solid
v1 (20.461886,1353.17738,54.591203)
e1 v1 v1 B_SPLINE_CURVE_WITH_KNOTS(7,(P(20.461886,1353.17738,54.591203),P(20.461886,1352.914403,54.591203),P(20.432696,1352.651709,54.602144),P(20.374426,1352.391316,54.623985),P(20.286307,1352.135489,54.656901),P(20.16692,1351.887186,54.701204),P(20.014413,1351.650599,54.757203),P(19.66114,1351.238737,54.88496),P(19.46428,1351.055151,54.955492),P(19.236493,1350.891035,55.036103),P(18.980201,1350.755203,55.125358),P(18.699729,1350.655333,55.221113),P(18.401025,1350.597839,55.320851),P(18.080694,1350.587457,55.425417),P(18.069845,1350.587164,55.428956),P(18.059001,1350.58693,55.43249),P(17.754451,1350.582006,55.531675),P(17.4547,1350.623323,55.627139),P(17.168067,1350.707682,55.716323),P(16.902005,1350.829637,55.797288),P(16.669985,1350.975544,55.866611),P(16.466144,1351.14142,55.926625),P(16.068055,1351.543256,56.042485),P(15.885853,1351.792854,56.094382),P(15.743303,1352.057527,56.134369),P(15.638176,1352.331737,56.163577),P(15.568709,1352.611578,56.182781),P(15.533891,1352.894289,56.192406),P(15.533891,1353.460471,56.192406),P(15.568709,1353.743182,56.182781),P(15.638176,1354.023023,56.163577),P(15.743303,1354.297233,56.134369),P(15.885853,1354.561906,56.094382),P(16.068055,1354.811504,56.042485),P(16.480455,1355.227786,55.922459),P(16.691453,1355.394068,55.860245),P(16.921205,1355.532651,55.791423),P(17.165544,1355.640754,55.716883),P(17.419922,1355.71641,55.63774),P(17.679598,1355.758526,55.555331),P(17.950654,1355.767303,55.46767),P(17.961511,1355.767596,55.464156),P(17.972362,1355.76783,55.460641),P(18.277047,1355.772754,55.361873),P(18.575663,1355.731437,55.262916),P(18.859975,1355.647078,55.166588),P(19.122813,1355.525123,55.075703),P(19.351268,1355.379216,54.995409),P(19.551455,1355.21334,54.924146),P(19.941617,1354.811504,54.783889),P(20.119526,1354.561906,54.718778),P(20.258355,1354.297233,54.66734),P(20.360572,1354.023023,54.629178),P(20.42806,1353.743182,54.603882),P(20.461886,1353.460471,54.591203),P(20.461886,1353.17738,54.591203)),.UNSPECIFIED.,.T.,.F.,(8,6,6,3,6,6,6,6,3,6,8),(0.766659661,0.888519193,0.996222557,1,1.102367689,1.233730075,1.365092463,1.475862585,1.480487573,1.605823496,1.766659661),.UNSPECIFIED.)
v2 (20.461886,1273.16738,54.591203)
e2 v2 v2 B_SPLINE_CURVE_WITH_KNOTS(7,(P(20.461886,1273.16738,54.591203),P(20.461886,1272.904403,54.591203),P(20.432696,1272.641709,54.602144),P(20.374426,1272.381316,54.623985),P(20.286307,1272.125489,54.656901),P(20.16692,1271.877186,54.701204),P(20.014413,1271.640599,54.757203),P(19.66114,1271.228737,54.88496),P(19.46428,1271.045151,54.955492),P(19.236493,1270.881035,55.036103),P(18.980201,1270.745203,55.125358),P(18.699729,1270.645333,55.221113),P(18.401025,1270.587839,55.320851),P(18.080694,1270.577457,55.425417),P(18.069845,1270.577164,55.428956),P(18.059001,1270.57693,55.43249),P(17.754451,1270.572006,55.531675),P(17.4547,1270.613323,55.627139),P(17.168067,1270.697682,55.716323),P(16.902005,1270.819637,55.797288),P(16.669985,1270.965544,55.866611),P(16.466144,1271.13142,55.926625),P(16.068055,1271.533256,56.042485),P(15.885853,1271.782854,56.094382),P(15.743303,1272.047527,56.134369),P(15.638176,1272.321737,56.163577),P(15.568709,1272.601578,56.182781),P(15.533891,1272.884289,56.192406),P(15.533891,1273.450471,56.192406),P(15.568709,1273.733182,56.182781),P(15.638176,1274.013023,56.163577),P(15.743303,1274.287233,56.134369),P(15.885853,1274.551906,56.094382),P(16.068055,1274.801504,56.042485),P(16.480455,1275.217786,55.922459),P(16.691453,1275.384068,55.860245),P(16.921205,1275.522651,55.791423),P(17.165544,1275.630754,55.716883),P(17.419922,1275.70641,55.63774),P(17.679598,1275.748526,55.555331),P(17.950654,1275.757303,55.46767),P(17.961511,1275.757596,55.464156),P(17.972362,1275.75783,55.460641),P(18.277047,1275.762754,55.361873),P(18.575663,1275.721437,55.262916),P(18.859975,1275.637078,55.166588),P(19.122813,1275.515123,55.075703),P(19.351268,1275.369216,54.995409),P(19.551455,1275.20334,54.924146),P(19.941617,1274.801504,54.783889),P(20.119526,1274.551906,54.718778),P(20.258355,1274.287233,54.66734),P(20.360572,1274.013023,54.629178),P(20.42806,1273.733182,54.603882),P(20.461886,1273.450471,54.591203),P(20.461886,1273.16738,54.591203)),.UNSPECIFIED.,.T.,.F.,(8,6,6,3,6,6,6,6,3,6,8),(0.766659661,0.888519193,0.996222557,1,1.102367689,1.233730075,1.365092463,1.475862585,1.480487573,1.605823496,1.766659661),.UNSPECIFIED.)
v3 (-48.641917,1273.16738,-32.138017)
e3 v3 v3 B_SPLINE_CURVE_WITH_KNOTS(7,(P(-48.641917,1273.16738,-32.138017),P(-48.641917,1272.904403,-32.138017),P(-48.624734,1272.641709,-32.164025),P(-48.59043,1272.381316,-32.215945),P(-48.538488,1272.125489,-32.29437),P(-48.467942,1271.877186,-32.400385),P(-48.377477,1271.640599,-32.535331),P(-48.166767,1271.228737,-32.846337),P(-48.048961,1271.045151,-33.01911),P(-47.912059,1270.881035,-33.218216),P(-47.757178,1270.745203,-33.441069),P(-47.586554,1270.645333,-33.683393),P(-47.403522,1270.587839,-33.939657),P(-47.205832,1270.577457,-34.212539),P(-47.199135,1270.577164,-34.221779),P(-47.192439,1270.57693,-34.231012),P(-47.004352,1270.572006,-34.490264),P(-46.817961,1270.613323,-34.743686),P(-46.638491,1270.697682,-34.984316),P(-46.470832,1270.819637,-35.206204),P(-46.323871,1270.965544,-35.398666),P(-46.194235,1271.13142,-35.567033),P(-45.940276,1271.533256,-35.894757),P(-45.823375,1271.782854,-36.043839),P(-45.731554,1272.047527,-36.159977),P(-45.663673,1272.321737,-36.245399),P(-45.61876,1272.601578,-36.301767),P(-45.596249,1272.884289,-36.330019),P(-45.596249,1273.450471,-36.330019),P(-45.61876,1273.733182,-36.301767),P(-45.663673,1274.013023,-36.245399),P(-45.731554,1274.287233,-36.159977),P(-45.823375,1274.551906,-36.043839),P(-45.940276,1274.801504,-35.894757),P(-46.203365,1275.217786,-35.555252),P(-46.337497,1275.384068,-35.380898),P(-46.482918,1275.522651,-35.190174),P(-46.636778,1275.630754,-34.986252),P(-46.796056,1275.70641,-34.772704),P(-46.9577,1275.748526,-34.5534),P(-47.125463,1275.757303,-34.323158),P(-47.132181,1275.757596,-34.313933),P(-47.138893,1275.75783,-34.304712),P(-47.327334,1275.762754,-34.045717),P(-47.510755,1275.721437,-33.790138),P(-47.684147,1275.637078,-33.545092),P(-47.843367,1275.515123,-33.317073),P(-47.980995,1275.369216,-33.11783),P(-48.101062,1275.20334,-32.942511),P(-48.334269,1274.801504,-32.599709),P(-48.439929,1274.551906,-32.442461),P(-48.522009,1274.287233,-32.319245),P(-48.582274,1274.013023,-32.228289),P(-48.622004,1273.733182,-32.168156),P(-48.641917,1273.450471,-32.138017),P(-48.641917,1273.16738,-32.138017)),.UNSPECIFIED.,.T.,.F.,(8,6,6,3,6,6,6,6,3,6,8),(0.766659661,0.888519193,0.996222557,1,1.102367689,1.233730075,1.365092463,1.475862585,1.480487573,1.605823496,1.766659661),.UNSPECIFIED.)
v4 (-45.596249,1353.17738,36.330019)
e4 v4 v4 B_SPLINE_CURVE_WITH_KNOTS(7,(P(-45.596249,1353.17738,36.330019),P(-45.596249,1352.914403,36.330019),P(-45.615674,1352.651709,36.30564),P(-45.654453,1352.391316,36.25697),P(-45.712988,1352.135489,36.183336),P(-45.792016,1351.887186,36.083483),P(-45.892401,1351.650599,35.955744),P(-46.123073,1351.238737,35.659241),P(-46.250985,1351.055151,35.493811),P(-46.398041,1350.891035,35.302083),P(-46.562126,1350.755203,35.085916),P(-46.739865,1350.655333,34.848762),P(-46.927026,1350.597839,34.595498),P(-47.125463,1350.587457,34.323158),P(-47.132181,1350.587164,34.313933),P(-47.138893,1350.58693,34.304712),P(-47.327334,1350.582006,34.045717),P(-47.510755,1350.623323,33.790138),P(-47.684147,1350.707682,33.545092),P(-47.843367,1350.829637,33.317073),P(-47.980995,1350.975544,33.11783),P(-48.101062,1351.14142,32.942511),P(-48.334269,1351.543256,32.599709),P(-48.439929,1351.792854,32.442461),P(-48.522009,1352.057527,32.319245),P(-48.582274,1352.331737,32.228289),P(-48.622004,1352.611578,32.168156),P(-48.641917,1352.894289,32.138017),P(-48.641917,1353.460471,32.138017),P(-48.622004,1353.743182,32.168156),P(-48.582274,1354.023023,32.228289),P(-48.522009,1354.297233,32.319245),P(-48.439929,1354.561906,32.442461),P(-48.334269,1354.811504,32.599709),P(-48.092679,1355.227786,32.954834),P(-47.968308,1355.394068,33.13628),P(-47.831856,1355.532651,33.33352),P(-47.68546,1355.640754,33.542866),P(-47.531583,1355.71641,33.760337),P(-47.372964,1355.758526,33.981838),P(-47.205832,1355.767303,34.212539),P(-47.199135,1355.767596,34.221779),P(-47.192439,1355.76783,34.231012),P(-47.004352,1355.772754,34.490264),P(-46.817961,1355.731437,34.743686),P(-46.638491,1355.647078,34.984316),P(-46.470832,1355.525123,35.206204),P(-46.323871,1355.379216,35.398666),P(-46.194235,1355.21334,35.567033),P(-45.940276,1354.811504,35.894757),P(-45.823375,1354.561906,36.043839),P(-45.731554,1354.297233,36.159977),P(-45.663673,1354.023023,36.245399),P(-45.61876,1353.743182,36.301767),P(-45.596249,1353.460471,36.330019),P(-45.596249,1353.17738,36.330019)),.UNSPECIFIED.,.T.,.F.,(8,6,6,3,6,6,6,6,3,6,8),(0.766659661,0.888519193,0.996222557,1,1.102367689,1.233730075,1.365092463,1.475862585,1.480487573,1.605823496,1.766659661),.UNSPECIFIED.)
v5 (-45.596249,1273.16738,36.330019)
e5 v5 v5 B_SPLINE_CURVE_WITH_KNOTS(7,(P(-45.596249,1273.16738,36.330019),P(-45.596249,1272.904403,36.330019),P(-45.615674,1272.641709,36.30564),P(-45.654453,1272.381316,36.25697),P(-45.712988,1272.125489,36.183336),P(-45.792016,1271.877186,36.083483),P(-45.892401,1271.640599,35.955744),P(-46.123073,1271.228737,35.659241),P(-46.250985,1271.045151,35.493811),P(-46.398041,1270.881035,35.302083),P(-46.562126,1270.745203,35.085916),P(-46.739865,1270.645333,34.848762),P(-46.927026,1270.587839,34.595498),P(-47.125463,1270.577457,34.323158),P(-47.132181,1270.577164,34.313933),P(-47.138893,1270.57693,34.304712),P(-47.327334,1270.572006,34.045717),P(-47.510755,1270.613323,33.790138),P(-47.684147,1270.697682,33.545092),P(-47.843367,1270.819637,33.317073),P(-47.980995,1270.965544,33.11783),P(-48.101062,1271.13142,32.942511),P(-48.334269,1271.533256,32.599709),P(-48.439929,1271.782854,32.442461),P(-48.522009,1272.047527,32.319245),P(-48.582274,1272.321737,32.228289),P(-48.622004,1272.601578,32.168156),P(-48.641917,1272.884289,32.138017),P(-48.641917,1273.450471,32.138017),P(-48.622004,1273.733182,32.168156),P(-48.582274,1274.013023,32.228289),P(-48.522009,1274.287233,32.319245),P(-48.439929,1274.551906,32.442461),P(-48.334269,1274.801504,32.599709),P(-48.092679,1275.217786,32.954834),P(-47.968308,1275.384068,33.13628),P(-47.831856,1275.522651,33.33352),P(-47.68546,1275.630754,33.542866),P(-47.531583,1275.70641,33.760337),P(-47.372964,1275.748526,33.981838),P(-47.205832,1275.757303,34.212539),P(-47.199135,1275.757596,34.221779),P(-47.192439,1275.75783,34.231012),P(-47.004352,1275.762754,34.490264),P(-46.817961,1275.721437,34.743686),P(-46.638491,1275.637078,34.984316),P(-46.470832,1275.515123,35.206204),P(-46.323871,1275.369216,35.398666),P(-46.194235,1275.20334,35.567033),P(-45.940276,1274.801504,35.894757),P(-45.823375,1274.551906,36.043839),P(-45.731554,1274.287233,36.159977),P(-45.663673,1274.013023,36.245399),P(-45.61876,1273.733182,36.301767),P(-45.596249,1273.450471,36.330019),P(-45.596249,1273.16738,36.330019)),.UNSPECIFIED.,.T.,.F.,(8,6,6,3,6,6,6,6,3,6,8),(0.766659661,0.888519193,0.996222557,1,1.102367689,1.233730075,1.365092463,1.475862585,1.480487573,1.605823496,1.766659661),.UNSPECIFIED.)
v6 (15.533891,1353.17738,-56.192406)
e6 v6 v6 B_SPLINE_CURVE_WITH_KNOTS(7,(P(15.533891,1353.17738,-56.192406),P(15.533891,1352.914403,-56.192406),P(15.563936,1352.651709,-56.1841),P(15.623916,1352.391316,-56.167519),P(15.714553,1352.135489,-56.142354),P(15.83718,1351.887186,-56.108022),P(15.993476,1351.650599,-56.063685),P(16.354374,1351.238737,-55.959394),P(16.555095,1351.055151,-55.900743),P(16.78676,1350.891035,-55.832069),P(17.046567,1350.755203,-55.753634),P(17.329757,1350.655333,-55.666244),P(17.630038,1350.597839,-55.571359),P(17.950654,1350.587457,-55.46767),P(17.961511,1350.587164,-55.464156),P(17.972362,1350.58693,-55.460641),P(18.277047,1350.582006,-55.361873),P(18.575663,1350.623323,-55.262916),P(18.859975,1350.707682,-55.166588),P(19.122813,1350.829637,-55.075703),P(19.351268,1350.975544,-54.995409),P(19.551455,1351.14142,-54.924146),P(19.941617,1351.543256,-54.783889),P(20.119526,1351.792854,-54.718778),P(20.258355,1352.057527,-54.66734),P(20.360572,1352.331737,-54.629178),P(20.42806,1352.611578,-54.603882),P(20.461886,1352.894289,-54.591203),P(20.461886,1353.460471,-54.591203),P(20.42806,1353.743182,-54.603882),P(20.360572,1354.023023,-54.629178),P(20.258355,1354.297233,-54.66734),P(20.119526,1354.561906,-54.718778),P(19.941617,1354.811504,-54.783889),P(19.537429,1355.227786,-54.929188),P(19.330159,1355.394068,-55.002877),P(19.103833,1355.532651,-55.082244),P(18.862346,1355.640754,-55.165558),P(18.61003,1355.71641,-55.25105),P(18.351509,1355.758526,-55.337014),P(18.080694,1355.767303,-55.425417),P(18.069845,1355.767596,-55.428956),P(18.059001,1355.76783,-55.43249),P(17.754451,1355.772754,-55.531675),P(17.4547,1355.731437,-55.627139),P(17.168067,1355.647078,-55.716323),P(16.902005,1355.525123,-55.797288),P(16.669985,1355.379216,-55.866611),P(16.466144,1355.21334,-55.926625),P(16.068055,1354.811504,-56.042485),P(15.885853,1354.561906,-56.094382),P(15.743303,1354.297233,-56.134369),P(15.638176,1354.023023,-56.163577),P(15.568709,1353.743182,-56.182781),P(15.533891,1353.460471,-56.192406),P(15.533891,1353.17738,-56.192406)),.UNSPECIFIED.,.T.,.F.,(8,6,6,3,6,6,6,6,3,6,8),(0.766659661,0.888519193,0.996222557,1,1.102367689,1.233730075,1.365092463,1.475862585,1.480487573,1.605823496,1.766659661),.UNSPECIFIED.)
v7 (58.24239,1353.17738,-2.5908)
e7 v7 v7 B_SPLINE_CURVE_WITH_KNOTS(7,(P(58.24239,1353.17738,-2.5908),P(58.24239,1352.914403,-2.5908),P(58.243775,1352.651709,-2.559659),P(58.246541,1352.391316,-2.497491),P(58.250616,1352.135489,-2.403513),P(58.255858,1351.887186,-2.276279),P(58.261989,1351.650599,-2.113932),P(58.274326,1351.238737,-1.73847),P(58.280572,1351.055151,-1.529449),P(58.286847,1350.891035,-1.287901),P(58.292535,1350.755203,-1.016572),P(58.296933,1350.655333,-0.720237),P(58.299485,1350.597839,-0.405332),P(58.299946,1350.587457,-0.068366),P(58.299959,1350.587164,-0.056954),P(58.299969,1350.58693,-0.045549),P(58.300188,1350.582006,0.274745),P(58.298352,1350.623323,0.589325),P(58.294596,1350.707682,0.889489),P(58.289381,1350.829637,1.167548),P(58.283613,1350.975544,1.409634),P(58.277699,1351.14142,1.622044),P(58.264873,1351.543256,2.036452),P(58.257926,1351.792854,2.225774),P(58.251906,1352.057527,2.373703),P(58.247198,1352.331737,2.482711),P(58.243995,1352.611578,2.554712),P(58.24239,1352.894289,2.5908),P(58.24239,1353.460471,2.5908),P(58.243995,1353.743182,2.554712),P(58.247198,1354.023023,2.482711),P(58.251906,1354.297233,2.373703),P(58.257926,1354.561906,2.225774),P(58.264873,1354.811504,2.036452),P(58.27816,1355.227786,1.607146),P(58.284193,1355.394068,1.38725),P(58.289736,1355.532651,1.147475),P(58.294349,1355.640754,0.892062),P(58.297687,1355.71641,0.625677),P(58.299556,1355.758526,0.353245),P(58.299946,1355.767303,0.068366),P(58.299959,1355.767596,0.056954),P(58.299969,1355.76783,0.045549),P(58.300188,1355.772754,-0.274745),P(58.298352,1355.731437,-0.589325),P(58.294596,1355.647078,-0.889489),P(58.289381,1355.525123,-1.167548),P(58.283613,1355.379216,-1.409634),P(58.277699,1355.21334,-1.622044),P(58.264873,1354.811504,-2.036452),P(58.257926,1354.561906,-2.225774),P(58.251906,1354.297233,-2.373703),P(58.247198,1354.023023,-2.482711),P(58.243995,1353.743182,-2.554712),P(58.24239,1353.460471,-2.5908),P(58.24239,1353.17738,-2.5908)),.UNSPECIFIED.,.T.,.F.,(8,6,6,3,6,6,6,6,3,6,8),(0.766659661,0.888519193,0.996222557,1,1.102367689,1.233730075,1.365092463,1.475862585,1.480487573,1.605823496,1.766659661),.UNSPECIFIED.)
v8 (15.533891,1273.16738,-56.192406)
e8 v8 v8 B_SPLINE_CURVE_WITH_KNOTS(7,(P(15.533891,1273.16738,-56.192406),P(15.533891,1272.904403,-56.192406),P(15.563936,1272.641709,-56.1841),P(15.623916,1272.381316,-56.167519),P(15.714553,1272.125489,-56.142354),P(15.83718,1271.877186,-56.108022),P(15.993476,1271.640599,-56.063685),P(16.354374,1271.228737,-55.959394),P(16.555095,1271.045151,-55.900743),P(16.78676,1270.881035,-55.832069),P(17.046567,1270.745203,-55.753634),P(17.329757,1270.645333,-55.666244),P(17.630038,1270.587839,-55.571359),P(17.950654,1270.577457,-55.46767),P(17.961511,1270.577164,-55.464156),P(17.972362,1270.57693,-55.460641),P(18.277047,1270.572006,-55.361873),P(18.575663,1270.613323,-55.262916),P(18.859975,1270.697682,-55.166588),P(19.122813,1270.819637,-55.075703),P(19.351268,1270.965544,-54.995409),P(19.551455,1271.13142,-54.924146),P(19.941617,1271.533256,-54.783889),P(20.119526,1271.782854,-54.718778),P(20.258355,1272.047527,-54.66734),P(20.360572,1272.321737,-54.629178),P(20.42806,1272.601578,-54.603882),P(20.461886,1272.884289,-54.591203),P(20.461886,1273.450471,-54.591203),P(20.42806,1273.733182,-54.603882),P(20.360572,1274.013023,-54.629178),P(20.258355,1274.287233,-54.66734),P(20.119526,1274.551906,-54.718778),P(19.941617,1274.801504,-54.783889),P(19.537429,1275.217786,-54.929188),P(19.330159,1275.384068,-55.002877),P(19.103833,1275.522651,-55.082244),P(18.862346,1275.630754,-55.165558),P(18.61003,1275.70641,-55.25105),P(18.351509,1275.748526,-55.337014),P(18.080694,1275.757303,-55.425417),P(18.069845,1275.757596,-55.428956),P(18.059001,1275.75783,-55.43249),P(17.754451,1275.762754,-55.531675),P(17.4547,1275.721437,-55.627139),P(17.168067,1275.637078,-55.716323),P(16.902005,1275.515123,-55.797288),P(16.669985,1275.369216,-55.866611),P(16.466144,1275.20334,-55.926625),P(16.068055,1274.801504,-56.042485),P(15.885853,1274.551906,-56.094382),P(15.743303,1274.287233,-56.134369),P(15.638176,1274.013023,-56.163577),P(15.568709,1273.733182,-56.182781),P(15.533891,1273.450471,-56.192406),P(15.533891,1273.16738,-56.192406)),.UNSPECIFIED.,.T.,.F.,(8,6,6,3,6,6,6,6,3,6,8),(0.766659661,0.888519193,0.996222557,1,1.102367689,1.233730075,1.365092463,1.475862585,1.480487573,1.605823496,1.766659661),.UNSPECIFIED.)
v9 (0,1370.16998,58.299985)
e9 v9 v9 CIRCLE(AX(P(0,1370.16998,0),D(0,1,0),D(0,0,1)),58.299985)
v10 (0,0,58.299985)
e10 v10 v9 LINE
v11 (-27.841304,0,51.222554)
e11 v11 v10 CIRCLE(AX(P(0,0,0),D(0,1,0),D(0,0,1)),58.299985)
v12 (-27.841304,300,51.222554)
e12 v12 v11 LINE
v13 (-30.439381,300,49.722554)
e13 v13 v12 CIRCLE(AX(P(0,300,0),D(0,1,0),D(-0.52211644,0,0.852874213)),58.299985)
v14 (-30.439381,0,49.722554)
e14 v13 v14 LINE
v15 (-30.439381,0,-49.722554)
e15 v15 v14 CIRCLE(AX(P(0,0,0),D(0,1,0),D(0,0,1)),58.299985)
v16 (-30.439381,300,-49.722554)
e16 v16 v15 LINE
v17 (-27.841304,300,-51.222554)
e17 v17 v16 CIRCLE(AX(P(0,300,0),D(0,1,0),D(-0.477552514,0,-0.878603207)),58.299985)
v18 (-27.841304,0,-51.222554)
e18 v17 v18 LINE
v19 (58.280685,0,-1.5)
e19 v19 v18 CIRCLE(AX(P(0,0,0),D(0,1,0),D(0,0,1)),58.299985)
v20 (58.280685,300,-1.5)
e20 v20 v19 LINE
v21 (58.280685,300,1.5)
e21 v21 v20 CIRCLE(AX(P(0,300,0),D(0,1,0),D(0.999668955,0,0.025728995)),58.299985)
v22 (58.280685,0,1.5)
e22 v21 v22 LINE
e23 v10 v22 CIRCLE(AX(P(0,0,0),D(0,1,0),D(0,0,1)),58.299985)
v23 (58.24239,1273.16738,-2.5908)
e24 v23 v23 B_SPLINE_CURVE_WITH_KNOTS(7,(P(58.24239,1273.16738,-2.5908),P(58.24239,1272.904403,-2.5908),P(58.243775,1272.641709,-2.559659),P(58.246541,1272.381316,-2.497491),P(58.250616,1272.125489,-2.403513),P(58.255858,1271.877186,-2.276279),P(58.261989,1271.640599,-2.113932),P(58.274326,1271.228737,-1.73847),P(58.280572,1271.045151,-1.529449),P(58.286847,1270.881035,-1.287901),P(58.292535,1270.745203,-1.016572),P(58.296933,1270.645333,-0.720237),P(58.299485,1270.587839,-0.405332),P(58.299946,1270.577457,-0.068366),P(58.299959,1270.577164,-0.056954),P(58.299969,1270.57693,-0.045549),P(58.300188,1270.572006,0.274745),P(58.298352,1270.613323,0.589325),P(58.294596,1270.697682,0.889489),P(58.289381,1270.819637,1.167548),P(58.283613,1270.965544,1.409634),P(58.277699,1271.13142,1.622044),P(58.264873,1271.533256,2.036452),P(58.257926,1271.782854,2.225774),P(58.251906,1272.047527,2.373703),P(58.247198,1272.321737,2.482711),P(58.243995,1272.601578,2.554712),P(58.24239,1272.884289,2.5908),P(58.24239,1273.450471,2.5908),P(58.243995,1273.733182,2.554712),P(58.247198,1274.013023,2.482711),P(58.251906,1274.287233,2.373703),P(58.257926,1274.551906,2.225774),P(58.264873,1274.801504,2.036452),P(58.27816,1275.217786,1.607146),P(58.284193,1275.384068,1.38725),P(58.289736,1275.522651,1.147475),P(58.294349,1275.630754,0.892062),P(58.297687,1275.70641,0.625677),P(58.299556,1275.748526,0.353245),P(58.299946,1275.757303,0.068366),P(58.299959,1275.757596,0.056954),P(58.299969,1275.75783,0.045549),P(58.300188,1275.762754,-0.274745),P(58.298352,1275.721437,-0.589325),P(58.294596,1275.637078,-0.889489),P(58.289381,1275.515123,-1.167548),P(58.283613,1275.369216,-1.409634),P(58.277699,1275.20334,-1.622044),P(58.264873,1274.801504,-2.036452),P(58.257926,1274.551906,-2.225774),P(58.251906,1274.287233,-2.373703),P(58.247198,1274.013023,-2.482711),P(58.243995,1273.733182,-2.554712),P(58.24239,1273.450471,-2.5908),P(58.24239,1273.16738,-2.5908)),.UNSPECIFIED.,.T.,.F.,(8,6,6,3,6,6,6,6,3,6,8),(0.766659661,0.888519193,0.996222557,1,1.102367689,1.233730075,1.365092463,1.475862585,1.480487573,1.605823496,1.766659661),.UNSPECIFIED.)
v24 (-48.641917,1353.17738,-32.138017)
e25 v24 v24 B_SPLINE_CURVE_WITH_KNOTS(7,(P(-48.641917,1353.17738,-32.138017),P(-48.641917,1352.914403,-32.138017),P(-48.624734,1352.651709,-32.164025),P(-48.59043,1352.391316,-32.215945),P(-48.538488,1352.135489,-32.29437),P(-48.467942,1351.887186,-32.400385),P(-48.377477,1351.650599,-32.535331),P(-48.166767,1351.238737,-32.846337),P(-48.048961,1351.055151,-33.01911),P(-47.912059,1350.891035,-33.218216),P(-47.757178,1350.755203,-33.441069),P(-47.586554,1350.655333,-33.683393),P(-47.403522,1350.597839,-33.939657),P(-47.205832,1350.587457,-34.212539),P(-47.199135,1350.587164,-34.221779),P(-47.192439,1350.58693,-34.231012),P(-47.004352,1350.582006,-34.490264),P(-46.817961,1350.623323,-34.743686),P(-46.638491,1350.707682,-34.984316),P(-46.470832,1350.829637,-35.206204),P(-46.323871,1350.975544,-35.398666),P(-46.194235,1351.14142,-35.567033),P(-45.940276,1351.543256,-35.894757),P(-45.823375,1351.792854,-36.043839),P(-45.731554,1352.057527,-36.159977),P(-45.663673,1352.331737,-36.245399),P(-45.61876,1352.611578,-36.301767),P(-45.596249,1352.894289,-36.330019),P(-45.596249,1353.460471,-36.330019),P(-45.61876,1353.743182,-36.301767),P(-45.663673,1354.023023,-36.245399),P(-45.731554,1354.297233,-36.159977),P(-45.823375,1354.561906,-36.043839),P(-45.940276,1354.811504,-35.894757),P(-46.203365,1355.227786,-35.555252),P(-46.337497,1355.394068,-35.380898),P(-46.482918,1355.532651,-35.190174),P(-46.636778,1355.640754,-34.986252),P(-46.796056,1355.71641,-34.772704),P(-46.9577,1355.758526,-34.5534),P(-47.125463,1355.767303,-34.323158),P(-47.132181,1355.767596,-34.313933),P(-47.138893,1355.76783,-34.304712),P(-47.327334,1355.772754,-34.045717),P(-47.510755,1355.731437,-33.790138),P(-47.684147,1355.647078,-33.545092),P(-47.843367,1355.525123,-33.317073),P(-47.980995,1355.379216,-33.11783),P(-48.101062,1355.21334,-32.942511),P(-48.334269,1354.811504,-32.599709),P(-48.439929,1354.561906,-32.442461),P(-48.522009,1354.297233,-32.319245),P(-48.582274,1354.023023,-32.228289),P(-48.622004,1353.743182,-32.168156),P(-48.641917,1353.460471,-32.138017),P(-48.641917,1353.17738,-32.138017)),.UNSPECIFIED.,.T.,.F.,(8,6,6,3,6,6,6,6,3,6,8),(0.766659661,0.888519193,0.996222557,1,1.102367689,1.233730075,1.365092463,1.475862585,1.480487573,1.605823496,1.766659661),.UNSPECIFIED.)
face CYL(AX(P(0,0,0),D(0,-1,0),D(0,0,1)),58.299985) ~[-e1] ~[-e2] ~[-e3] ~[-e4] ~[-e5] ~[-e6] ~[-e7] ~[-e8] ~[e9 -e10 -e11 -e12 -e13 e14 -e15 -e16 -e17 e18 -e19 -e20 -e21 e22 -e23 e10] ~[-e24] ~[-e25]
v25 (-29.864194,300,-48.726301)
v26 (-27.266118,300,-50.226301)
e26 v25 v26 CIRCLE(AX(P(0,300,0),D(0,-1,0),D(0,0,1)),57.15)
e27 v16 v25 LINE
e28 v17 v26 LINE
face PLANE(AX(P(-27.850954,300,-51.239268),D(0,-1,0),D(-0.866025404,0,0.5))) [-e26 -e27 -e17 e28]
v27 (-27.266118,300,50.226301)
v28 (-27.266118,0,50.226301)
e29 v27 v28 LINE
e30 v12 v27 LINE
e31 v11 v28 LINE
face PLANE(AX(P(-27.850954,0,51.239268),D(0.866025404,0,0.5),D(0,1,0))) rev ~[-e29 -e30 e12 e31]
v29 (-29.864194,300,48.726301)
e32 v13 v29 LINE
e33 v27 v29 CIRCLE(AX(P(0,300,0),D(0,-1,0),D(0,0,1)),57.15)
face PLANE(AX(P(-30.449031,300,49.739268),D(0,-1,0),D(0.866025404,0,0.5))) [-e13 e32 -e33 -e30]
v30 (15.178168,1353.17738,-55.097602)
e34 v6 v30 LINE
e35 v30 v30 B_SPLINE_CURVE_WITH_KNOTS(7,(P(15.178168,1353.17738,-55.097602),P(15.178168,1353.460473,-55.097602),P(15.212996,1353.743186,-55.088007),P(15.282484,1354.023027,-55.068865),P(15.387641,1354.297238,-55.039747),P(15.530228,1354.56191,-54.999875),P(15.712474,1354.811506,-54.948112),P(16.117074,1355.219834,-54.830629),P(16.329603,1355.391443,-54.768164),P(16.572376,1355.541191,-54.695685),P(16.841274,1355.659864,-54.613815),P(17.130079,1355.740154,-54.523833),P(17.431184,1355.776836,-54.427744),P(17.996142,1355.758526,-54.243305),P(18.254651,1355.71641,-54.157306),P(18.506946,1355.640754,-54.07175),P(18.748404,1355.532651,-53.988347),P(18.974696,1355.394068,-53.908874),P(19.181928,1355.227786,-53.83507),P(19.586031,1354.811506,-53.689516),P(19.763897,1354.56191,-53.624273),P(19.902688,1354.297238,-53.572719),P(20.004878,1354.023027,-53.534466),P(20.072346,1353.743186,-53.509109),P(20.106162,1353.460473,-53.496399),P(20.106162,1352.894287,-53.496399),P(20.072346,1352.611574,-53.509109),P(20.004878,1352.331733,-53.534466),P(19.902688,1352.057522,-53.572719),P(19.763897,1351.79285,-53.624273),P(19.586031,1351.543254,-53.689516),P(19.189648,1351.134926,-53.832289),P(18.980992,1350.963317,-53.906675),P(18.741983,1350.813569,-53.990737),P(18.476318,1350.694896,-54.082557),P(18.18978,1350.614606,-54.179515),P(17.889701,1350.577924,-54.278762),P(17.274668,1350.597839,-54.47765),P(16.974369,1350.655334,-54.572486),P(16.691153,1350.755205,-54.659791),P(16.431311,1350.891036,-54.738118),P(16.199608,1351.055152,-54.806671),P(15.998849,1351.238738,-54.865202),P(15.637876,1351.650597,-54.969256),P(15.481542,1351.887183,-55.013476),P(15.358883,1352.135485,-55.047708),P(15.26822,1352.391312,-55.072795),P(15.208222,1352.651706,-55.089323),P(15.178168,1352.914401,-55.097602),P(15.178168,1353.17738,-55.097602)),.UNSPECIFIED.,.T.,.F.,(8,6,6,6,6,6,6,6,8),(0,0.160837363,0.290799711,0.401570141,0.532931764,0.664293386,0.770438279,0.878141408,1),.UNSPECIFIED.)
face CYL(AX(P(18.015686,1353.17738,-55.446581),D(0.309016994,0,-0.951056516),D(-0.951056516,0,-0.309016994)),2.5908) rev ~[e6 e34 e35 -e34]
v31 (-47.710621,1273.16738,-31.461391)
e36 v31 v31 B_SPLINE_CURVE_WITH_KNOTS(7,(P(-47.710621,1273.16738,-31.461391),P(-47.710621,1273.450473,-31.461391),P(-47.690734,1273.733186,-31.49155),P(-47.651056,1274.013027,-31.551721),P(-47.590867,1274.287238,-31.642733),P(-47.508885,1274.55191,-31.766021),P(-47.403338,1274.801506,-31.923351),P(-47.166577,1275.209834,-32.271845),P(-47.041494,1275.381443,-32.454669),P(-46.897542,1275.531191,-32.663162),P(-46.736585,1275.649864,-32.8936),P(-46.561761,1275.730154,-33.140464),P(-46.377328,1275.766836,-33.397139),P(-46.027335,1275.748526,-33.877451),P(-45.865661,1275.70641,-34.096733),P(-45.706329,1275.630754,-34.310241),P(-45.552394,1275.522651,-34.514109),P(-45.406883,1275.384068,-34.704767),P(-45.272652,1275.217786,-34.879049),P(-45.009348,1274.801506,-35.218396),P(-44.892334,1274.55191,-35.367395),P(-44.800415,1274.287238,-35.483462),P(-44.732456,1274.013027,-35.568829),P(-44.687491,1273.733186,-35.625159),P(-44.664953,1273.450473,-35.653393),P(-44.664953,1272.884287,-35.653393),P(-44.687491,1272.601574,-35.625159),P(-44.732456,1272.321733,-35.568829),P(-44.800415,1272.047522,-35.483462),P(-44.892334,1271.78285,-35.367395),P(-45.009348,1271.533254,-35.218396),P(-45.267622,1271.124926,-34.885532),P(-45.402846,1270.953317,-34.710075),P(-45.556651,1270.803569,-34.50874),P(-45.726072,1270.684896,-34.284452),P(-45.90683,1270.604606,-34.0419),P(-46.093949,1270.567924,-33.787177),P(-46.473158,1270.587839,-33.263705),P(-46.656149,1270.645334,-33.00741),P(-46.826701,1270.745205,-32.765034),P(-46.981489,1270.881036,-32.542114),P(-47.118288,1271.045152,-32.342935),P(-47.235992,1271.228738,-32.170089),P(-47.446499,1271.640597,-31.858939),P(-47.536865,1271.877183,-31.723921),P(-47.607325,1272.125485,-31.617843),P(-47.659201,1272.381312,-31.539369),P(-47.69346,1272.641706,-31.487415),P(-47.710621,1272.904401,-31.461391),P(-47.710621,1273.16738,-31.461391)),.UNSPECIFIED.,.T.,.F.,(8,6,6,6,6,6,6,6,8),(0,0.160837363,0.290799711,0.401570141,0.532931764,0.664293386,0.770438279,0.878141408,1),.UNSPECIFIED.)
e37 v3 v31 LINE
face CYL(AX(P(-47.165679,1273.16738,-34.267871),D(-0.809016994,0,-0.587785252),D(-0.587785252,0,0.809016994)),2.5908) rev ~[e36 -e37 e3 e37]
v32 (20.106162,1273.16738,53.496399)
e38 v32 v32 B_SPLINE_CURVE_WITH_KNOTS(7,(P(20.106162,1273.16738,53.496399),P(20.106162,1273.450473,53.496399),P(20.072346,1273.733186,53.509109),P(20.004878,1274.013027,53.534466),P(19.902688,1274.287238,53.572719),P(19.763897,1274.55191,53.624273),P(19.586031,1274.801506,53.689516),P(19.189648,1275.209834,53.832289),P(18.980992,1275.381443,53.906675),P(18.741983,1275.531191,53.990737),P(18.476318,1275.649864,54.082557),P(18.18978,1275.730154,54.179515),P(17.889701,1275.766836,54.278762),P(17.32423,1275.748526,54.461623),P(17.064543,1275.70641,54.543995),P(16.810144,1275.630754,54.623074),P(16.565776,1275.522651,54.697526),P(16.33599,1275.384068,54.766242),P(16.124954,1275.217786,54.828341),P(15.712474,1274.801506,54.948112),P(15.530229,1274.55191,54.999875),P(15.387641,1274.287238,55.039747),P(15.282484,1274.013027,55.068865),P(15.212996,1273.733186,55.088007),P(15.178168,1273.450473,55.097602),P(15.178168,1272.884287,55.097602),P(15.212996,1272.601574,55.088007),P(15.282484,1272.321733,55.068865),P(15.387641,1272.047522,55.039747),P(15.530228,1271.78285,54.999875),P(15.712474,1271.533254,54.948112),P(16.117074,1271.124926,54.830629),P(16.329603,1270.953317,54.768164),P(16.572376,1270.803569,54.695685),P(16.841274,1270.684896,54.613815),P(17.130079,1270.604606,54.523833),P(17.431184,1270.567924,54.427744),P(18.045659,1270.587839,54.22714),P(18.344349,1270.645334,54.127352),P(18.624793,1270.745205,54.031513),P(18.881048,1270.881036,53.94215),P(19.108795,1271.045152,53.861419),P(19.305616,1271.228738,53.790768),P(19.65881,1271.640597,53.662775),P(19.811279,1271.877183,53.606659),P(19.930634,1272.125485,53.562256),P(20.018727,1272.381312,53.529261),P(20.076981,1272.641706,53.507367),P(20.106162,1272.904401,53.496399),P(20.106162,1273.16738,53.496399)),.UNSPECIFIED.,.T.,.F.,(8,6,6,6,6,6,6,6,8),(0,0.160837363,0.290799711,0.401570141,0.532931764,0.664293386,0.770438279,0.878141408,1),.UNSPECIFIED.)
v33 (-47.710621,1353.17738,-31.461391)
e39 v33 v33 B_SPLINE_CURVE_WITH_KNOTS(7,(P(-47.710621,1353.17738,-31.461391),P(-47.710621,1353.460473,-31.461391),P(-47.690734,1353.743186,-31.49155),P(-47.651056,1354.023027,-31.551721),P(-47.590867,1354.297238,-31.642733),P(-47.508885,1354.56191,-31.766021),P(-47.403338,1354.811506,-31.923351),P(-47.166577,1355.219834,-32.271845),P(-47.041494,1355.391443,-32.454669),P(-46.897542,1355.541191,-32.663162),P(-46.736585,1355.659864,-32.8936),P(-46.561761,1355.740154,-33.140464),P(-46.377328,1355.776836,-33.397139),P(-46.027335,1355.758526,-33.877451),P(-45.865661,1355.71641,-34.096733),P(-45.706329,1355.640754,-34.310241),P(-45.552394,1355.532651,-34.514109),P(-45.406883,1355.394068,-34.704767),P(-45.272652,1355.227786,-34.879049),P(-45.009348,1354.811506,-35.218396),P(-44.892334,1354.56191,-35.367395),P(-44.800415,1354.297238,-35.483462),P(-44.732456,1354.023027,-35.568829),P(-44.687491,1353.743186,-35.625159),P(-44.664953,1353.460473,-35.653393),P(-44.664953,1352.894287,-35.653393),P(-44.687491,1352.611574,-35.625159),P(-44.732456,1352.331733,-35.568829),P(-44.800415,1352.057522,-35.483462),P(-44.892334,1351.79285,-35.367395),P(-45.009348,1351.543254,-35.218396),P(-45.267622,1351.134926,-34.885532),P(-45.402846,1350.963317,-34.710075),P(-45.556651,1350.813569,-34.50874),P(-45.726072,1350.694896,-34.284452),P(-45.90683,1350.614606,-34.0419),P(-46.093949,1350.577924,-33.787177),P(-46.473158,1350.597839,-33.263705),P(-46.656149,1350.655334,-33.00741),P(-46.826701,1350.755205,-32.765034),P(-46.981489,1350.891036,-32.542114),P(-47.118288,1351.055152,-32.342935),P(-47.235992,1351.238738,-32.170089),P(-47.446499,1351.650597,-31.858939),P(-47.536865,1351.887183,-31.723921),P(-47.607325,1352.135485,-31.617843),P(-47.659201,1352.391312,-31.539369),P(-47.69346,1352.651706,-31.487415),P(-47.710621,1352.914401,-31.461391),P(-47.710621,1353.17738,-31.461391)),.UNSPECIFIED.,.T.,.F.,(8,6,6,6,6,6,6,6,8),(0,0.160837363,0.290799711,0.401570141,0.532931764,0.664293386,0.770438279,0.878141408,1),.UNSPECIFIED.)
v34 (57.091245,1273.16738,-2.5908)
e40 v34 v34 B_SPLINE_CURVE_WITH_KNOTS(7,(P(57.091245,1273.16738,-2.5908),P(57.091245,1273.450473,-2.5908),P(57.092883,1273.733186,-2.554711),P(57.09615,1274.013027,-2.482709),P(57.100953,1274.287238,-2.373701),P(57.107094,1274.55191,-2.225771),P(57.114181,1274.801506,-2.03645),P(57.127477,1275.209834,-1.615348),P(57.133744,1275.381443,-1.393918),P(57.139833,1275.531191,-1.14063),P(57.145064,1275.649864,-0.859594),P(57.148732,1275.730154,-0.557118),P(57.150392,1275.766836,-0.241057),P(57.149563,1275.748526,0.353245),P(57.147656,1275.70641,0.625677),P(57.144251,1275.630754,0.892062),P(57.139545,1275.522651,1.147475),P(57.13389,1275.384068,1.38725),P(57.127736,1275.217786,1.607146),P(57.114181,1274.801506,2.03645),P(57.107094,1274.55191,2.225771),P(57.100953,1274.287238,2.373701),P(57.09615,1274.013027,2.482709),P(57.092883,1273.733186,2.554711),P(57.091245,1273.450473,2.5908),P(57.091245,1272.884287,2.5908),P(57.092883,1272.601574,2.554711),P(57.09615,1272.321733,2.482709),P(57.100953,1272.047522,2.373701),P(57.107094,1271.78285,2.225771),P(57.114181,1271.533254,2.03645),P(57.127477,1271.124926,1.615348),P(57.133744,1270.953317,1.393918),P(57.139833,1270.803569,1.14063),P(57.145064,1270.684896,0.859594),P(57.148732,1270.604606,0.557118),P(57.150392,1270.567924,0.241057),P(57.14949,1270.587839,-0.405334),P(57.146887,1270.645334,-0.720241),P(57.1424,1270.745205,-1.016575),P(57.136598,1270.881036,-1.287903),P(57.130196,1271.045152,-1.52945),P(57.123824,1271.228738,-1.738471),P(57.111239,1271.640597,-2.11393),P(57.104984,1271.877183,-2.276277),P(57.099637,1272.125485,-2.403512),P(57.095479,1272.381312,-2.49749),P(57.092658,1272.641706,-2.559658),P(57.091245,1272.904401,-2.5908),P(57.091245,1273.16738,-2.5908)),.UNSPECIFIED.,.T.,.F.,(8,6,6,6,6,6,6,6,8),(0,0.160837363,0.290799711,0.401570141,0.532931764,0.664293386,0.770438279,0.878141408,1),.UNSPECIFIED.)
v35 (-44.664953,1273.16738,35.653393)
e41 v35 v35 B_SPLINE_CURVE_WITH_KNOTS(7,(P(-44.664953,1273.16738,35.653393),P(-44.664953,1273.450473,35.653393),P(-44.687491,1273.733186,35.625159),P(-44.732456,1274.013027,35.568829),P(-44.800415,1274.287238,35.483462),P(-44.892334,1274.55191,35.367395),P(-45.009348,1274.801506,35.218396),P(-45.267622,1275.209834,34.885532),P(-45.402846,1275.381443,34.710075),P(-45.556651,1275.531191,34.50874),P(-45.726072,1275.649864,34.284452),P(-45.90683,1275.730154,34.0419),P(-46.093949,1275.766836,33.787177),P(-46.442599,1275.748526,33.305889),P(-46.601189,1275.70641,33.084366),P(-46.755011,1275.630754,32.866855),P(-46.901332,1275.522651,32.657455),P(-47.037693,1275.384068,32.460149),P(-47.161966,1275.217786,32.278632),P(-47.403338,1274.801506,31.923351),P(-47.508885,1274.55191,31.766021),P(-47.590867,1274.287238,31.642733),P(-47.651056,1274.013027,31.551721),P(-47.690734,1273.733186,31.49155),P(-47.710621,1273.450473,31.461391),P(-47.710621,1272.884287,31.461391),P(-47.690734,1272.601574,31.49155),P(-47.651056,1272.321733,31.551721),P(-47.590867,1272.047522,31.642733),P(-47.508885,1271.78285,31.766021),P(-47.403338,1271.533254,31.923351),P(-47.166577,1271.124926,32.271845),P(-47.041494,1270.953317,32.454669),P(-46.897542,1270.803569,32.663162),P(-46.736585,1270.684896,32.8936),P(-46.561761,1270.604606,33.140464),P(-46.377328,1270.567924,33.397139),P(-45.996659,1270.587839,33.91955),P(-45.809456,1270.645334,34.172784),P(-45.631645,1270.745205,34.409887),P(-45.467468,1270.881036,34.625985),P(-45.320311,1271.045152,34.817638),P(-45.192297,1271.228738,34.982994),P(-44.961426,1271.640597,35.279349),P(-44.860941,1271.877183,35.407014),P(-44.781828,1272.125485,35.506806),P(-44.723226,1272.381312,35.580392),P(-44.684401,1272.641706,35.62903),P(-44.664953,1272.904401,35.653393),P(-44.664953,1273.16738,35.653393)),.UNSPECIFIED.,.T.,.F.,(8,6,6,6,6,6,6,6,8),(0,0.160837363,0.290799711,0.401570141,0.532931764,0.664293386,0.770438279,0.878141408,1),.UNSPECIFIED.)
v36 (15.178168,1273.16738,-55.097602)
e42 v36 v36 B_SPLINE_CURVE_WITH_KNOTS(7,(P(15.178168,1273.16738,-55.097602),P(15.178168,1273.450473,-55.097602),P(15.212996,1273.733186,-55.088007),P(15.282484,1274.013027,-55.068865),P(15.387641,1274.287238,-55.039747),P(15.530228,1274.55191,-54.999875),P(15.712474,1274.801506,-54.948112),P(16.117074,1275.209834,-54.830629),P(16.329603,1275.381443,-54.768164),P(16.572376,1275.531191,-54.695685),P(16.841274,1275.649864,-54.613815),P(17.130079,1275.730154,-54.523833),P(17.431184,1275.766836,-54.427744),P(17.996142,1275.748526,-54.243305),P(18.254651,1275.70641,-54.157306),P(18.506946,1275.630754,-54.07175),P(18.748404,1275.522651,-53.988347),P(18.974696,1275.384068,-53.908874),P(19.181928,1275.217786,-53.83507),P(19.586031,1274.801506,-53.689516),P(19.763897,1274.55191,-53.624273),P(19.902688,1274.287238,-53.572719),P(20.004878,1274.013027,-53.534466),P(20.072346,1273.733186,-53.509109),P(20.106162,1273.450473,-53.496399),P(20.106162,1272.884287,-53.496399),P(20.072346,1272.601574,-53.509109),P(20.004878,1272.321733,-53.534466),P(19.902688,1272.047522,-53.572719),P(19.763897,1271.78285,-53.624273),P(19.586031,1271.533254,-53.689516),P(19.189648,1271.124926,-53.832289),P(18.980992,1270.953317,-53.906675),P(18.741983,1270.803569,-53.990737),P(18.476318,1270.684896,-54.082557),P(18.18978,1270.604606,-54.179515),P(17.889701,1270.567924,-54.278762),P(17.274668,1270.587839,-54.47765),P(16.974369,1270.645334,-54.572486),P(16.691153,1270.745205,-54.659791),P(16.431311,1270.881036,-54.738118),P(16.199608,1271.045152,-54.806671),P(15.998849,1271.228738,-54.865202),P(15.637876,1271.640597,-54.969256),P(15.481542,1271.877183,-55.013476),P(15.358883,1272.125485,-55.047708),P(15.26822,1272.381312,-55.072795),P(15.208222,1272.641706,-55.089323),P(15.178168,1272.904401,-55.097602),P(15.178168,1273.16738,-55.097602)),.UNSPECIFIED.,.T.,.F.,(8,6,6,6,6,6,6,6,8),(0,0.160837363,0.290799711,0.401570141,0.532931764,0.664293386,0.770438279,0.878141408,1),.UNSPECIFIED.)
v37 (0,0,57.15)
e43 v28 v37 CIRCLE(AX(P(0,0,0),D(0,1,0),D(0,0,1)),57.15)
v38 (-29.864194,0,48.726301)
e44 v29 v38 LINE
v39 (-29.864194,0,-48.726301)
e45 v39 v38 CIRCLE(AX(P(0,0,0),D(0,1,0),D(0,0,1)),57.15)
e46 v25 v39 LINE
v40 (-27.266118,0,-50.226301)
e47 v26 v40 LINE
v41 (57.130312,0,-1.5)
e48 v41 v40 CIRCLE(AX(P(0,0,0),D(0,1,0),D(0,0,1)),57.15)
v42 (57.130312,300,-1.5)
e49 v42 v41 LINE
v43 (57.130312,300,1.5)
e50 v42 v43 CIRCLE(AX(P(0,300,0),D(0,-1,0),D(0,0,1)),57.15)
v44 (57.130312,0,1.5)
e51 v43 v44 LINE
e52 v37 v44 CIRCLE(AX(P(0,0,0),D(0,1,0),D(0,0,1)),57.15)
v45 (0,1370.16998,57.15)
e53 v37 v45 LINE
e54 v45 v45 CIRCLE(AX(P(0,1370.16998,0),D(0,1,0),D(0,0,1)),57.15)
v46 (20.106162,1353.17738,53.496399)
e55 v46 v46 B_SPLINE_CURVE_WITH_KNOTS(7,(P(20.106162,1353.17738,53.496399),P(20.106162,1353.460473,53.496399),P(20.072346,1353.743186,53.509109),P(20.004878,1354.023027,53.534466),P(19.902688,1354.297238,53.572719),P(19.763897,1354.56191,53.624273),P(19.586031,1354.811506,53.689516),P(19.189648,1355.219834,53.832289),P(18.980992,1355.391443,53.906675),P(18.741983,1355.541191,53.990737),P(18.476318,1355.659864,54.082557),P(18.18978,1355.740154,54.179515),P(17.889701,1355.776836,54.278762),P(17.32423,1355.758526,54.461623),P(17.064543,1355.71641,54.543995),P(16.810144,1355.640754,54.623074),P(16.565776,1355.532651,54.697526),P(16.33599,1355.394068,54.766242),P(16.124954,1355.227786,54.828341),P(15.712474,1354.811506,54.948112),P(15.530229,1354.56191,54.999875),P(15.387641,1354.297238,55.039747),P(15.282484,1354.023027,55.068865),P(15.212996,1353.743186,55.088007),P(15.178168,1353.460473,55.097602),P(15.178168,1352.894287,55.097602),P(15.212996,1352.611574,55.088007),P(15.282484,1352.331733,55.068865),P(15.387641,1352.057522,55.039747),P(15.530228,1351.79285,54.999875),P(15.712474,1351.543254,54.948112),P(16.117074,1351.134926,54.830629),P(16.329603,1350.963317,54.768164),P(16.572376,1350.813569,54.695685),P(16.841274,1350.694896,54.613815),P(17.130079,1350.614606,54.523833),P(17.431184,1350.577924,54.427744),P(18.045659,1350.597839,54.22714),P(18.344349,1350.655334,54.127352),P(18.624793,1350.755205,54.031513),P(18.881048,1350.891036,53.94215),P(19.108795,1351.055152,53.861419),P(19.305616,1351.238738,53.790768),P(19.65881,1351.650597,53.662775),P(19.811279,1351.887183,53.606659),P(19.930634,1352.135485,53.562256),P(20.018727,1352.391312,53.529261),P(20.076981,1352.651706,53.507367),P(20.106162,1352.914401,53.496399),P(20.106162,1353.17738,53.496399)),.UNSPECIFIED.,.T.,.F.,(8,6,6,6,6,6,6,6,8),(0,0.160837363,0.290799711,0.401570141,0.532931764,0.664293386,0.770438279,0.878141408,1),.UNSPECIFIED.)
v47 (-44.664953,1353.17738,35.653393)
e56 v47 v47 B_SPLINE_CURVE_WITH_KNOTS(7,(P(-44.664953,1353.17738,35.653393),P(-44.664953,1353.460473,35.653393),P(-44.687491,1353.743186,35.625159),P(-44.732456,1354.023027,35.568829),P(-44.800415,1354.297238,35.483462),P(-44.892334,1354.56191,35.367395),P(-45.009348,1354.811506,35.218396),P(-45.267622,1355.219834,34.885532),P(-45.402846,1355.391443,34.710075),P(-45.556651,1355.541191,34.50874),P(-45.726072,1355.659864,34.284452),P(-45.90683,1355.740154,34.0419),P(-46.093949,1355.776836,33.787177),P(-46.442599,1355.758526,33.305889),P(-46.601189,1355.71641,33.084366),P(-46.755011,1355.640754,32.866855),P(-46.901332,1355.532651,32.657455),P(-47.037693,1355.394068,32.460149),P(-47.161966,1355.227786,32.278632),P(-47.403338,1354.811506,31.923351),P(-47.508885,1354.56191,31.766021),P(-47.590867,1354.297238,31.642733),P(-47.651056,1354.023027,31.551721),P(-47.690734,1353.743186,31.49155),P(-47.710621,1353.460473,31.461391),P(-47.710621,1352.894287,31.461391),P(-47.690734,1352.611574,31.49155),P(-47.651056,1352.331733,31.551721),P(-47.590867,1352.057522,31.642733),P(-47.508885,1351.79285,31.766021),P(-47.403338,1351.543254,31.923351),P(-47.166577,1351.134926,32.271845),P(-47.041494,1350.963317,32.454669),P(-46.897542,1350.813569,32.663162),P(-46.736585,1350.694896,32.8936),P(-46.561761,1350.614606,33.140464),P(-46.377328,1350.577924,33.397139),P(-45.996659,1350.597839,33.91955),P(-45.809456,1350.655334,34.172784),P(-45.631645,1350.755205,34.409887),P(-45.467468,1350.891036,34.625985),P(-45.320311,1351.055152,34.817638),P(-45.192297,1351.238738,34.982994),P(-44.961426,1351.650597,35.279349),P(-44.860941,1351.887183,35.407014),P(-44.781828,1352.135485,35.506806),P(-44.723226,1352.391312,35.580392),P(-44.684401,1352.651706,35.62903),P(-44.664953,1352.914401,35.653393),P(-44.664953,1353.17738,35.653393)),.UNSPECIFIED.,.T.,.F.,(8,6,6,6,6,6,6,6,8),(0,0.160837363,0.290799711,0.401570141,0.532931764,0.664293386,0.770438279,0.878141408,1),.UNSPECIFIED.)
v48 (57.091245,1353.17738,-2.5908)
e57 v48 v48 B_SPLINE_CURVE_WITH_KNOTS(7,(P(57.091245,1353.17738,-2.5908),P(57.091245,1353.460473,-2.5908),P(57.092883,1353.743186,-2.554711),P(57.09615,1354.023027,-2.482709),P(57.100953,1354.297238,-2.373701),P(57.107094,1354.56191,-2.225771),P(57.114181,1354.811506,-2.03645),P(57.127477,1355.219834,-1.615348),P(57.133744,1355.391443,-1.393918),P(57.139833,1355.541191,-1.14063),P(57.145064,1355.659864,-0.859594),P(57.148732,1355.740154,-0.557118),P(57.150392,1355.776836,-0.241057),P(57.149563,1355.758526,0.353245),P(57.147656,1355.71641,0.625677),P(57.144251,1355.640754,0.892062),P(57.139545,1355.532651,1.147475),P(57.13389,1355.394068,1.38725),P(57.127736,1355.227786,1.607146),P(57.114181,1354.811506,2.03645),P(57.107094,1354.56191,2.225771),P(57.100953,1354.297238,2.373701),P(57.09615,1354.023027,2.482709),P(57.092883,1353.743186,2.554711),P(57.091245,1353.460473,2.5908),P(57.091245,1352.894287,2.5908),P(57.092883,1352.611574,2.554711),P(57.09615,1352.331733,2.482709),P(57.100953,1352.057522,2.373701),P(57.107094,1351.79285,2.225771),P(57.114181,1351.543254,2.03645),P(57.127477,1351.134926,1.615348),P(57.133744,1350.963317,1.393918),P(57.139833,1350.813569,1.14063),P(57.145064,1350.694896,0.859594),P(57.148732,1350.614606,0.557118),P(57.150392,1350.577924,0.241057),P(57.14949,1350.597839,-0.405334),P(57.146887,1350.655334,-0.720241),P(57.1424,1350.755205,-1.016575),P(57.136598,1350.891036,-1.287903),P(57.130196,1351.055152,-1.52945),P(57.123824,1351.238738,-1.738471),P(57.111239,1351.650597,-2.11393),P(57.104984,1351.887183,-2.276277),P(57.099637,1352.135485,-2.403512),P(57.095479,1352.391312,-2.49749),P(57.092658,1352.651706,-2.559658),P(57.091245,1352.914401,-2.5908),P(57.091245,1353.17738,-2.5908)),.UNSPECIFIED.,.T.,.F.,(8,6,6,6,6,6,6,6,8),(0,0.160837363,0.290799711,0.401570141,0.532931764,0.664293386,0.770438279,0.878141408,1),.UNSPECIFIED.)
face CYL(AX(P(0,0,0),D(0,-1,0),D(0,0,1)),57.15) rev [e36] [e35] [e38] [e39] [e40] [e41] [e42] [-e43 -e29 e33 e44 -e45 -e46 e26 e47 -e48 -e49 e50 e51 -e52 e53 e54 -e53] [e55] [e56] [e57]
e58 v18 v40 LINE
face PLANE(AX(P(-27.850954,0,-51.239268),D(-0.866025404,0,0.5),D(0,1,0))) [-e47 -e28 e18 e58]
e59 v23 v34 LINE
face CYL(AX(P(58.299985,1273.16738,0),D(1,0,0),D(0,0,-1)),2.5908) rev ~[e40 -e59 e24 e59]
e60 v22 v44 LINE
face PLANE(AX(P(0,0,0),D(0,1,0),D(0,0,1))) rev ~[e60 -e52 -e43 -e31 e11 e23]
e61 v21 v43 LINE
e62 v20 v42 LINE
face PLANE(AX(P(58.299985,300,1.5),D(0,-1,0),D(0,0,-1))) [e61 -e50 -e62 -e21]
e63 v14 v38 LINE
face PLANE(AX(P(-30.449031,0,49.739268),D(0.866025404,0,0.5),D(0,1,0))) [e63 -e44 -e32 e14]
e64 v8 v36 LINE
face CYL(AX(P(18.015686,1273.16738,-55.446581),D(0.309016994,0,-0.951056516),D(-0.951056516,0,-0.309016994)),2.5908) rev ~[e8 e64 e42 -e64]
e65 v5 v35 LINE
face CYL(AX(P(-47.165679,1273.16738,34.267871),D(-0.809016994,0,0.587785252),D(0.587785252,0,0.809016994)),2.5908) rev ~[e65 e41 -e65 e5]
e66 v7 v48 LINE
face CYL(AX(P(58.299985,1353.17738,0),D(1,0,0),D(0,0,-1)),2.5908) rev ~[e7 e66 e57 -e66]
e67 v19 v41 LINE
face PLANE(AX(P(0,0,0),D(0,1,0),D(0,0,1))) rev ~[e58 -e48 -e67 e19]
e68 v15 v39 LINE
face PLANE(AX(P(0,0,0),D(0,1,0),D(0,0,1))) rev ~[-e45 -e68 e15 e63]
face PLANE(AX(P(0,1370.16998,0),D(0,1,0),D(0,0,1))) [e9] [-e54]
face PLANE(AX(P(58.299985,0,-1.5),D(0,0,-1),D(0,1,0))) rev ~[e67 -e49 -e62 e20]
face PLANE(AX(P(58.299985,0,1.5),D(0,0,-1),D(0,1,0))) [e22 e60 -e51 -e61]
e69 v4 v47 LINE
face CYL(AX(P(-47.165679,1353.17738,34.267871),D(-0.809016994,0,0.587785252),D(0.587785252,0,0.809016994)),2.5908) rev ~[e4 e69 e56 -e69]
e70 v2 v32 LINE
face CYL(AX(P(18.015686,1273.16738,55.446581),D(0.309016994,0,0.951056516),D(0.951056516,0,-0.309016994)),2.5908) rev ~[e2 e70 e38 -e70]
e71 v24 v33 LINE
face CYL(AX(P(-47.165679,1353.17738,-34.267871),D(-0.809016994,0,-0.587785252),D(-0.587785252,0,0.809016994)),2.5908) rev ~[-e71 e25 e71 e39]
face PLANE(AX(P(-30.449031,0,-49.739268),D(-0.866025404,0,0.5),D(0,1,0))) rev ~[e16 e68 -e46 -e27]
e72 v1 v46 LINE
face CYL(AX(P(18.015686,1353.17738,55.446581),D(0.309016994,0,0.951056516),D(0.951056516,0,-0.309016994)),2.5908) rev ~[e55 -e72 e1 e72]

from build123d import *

# Parameters (mm, degrees)
SKETCH1_R                       = 58.299985
BOSS_EXTRUDE1_DEPTH             = 1370.16998
SKETCH2_R                       = 57.15
CUT_EXTRUDE1_DEPTH              = 1370.16998
SKETCH3_W                       = 3
SKETCH3_H                       = 300
CUT_EXTRUDE2_DEPTH              = 10
CIRPATTERN1_COUNT               = 3
F_6_0_204_DIAMETER_HOLE1_REACH  = 1378.358
F_6_0_204_DIAMETER_HOLE1_BORE_R = 2.5908
CIRPATTERN2_COUNT               = 5


with BuildPart() as part:
    # Sketch1 → Boss-Extrude1 (new body)
    with BuildSketch(Plane(origin=(0, 0, 0), x_dir=(1, 0, 0), z_dir=(0, 1, 0))):
        with Locations(Location((0, 0, 0), (0, 0, 270))):
            Circle(SKETCH1_R)
    extrude(amount=BOSS_EXTRUDE1_DEPTH)

    # Sketch2 → Cut-Extrude1 (cut)
    with BuildSketch(Plane(origin=(0, 0, 0), x_dir=(1, 0, 0), z_dir=(0, 1, 0))):
        with Locations(Location((0, 0, 0), (0, 0, 270))):
            Circle(SKETCH2_R)
    extrude(amount=CUT_EXTRUDE1_DEPTH, mode=Mode.SUBTRACT)

    # Sketch3 → Cut-Extrude2 (cut)
    with BuildSketch(Plane(origin=(58.299985, 0, 0), x_dir=(0, 0, -1), z_dir=(1, 0, 0))):
        with Locations((0, 150)):
            Rectangle(SKETCH3_W, SKETCH3_H)
    cut_extrude2 = extrude(amount=-CUT_EXTRUDE2_DEPTH, mode=Mode.SUBTRACT)

    # CirPattern1: Cut-Extrude2 ×3 about axis
    cirpattern1_axis = Axis((0, 0, 0), (0, 1, 0))
    for i in range(1, CIRPATTERN1_COUNT):
        add(cut_extrude2.rotate(cirpattern1_axis, i * 360 / CIRPATTERN1_COUNT), mode=Mode.SUBTRACT)

    # #6 (0.204) Diameter Hole1 bore → #6 (0.204) Diameter Hole1 (cut, up to next)
    with BuildSketch(Plane(origin=(58.299985, 0, 0), x_dir=(0, 0, -1), z_dir=(1, 0, 0)), mode=Mode.PRIVATE) as f_6_0_204_diameter_hole1_sk1:
        with Locations((0, 1353.17738)):
            Circle(F_6_0_204_DIAMETER_HOLE1_BORE_R)
    f_6_0_204_diameter_hole1_tool1 = extrude(f_6_0_204_diameter_hole1_sk1.sketch, amount=-F_6_0_204_DIAMETER_HOLE1_REACH, mode=Mode.PRIVATE) & part.part
    # #6 (0.204) Diameter Hole1 bore → #6 (0.204) Diameter Hole1 (cut, up to next)
    with BuildSketch(Plane(origin=(58.299985, 0, 0), x_dir=(0, 0, -1), z_dir=(1, 0, 0)), mode=Mode.PRIVATE) as f_6_0_204_diameter_hole1_sk2:
        with Locations((0, 1273.16738)):
            Circle(F_6_0_204_DIAMETER_HOLE1_BORE_R)
    f_6_0_204_diameter_hole1_tool2 = extrude(f_6_0_204_diameter_hole1_sk2.sketch, amount=-F_6_0_204_DIAMETER_HOLE1_REACH, mode=Mode.PRIVATE) & part.part
    f_6_0_204_diameter_hole1_1 = f_6_0_204_diameter_hole1_tool1.solids().sort_by_distance((58.299985, 1353.17738, 0))[0]
    add(f_6_0_204_diameter_hole1_1, mode=Mode.SUBTRACT)
    f_6_0_204_diameter_hole1_2 = f_6_0_204_diameter_hole1_tool2.solids().sort_by_distance((58.299985, 1273.16738, 0))[0]
    add(f_6_0_204_diameter_hole1_2, mode=Mode.SUBTRACT)
    f_6_0_204_diameter_hole1 = f_6_0_204_diameter_hole1_1 + f_6_0_204_diameter_hole1_2  # #6 (0.204) Diameter Hole1 as one shape, for the pattern or mirror that repeats it

    # CirPattern2: #6 (0.204) Diameter Hole1 ×5 about axis
    cirpattern2_axis = Axis((0, 0, 0), (0, -1, 0))
    for i in range(1, CIRPATTERN2_COUNT):
        add(f_6_0_204_diameter_hole1.rotate(cirpattern2_axis, i * 360 / CIRPATTERN2_COUNT), mode=Mode.SUBTRACT)


solid = part.part
